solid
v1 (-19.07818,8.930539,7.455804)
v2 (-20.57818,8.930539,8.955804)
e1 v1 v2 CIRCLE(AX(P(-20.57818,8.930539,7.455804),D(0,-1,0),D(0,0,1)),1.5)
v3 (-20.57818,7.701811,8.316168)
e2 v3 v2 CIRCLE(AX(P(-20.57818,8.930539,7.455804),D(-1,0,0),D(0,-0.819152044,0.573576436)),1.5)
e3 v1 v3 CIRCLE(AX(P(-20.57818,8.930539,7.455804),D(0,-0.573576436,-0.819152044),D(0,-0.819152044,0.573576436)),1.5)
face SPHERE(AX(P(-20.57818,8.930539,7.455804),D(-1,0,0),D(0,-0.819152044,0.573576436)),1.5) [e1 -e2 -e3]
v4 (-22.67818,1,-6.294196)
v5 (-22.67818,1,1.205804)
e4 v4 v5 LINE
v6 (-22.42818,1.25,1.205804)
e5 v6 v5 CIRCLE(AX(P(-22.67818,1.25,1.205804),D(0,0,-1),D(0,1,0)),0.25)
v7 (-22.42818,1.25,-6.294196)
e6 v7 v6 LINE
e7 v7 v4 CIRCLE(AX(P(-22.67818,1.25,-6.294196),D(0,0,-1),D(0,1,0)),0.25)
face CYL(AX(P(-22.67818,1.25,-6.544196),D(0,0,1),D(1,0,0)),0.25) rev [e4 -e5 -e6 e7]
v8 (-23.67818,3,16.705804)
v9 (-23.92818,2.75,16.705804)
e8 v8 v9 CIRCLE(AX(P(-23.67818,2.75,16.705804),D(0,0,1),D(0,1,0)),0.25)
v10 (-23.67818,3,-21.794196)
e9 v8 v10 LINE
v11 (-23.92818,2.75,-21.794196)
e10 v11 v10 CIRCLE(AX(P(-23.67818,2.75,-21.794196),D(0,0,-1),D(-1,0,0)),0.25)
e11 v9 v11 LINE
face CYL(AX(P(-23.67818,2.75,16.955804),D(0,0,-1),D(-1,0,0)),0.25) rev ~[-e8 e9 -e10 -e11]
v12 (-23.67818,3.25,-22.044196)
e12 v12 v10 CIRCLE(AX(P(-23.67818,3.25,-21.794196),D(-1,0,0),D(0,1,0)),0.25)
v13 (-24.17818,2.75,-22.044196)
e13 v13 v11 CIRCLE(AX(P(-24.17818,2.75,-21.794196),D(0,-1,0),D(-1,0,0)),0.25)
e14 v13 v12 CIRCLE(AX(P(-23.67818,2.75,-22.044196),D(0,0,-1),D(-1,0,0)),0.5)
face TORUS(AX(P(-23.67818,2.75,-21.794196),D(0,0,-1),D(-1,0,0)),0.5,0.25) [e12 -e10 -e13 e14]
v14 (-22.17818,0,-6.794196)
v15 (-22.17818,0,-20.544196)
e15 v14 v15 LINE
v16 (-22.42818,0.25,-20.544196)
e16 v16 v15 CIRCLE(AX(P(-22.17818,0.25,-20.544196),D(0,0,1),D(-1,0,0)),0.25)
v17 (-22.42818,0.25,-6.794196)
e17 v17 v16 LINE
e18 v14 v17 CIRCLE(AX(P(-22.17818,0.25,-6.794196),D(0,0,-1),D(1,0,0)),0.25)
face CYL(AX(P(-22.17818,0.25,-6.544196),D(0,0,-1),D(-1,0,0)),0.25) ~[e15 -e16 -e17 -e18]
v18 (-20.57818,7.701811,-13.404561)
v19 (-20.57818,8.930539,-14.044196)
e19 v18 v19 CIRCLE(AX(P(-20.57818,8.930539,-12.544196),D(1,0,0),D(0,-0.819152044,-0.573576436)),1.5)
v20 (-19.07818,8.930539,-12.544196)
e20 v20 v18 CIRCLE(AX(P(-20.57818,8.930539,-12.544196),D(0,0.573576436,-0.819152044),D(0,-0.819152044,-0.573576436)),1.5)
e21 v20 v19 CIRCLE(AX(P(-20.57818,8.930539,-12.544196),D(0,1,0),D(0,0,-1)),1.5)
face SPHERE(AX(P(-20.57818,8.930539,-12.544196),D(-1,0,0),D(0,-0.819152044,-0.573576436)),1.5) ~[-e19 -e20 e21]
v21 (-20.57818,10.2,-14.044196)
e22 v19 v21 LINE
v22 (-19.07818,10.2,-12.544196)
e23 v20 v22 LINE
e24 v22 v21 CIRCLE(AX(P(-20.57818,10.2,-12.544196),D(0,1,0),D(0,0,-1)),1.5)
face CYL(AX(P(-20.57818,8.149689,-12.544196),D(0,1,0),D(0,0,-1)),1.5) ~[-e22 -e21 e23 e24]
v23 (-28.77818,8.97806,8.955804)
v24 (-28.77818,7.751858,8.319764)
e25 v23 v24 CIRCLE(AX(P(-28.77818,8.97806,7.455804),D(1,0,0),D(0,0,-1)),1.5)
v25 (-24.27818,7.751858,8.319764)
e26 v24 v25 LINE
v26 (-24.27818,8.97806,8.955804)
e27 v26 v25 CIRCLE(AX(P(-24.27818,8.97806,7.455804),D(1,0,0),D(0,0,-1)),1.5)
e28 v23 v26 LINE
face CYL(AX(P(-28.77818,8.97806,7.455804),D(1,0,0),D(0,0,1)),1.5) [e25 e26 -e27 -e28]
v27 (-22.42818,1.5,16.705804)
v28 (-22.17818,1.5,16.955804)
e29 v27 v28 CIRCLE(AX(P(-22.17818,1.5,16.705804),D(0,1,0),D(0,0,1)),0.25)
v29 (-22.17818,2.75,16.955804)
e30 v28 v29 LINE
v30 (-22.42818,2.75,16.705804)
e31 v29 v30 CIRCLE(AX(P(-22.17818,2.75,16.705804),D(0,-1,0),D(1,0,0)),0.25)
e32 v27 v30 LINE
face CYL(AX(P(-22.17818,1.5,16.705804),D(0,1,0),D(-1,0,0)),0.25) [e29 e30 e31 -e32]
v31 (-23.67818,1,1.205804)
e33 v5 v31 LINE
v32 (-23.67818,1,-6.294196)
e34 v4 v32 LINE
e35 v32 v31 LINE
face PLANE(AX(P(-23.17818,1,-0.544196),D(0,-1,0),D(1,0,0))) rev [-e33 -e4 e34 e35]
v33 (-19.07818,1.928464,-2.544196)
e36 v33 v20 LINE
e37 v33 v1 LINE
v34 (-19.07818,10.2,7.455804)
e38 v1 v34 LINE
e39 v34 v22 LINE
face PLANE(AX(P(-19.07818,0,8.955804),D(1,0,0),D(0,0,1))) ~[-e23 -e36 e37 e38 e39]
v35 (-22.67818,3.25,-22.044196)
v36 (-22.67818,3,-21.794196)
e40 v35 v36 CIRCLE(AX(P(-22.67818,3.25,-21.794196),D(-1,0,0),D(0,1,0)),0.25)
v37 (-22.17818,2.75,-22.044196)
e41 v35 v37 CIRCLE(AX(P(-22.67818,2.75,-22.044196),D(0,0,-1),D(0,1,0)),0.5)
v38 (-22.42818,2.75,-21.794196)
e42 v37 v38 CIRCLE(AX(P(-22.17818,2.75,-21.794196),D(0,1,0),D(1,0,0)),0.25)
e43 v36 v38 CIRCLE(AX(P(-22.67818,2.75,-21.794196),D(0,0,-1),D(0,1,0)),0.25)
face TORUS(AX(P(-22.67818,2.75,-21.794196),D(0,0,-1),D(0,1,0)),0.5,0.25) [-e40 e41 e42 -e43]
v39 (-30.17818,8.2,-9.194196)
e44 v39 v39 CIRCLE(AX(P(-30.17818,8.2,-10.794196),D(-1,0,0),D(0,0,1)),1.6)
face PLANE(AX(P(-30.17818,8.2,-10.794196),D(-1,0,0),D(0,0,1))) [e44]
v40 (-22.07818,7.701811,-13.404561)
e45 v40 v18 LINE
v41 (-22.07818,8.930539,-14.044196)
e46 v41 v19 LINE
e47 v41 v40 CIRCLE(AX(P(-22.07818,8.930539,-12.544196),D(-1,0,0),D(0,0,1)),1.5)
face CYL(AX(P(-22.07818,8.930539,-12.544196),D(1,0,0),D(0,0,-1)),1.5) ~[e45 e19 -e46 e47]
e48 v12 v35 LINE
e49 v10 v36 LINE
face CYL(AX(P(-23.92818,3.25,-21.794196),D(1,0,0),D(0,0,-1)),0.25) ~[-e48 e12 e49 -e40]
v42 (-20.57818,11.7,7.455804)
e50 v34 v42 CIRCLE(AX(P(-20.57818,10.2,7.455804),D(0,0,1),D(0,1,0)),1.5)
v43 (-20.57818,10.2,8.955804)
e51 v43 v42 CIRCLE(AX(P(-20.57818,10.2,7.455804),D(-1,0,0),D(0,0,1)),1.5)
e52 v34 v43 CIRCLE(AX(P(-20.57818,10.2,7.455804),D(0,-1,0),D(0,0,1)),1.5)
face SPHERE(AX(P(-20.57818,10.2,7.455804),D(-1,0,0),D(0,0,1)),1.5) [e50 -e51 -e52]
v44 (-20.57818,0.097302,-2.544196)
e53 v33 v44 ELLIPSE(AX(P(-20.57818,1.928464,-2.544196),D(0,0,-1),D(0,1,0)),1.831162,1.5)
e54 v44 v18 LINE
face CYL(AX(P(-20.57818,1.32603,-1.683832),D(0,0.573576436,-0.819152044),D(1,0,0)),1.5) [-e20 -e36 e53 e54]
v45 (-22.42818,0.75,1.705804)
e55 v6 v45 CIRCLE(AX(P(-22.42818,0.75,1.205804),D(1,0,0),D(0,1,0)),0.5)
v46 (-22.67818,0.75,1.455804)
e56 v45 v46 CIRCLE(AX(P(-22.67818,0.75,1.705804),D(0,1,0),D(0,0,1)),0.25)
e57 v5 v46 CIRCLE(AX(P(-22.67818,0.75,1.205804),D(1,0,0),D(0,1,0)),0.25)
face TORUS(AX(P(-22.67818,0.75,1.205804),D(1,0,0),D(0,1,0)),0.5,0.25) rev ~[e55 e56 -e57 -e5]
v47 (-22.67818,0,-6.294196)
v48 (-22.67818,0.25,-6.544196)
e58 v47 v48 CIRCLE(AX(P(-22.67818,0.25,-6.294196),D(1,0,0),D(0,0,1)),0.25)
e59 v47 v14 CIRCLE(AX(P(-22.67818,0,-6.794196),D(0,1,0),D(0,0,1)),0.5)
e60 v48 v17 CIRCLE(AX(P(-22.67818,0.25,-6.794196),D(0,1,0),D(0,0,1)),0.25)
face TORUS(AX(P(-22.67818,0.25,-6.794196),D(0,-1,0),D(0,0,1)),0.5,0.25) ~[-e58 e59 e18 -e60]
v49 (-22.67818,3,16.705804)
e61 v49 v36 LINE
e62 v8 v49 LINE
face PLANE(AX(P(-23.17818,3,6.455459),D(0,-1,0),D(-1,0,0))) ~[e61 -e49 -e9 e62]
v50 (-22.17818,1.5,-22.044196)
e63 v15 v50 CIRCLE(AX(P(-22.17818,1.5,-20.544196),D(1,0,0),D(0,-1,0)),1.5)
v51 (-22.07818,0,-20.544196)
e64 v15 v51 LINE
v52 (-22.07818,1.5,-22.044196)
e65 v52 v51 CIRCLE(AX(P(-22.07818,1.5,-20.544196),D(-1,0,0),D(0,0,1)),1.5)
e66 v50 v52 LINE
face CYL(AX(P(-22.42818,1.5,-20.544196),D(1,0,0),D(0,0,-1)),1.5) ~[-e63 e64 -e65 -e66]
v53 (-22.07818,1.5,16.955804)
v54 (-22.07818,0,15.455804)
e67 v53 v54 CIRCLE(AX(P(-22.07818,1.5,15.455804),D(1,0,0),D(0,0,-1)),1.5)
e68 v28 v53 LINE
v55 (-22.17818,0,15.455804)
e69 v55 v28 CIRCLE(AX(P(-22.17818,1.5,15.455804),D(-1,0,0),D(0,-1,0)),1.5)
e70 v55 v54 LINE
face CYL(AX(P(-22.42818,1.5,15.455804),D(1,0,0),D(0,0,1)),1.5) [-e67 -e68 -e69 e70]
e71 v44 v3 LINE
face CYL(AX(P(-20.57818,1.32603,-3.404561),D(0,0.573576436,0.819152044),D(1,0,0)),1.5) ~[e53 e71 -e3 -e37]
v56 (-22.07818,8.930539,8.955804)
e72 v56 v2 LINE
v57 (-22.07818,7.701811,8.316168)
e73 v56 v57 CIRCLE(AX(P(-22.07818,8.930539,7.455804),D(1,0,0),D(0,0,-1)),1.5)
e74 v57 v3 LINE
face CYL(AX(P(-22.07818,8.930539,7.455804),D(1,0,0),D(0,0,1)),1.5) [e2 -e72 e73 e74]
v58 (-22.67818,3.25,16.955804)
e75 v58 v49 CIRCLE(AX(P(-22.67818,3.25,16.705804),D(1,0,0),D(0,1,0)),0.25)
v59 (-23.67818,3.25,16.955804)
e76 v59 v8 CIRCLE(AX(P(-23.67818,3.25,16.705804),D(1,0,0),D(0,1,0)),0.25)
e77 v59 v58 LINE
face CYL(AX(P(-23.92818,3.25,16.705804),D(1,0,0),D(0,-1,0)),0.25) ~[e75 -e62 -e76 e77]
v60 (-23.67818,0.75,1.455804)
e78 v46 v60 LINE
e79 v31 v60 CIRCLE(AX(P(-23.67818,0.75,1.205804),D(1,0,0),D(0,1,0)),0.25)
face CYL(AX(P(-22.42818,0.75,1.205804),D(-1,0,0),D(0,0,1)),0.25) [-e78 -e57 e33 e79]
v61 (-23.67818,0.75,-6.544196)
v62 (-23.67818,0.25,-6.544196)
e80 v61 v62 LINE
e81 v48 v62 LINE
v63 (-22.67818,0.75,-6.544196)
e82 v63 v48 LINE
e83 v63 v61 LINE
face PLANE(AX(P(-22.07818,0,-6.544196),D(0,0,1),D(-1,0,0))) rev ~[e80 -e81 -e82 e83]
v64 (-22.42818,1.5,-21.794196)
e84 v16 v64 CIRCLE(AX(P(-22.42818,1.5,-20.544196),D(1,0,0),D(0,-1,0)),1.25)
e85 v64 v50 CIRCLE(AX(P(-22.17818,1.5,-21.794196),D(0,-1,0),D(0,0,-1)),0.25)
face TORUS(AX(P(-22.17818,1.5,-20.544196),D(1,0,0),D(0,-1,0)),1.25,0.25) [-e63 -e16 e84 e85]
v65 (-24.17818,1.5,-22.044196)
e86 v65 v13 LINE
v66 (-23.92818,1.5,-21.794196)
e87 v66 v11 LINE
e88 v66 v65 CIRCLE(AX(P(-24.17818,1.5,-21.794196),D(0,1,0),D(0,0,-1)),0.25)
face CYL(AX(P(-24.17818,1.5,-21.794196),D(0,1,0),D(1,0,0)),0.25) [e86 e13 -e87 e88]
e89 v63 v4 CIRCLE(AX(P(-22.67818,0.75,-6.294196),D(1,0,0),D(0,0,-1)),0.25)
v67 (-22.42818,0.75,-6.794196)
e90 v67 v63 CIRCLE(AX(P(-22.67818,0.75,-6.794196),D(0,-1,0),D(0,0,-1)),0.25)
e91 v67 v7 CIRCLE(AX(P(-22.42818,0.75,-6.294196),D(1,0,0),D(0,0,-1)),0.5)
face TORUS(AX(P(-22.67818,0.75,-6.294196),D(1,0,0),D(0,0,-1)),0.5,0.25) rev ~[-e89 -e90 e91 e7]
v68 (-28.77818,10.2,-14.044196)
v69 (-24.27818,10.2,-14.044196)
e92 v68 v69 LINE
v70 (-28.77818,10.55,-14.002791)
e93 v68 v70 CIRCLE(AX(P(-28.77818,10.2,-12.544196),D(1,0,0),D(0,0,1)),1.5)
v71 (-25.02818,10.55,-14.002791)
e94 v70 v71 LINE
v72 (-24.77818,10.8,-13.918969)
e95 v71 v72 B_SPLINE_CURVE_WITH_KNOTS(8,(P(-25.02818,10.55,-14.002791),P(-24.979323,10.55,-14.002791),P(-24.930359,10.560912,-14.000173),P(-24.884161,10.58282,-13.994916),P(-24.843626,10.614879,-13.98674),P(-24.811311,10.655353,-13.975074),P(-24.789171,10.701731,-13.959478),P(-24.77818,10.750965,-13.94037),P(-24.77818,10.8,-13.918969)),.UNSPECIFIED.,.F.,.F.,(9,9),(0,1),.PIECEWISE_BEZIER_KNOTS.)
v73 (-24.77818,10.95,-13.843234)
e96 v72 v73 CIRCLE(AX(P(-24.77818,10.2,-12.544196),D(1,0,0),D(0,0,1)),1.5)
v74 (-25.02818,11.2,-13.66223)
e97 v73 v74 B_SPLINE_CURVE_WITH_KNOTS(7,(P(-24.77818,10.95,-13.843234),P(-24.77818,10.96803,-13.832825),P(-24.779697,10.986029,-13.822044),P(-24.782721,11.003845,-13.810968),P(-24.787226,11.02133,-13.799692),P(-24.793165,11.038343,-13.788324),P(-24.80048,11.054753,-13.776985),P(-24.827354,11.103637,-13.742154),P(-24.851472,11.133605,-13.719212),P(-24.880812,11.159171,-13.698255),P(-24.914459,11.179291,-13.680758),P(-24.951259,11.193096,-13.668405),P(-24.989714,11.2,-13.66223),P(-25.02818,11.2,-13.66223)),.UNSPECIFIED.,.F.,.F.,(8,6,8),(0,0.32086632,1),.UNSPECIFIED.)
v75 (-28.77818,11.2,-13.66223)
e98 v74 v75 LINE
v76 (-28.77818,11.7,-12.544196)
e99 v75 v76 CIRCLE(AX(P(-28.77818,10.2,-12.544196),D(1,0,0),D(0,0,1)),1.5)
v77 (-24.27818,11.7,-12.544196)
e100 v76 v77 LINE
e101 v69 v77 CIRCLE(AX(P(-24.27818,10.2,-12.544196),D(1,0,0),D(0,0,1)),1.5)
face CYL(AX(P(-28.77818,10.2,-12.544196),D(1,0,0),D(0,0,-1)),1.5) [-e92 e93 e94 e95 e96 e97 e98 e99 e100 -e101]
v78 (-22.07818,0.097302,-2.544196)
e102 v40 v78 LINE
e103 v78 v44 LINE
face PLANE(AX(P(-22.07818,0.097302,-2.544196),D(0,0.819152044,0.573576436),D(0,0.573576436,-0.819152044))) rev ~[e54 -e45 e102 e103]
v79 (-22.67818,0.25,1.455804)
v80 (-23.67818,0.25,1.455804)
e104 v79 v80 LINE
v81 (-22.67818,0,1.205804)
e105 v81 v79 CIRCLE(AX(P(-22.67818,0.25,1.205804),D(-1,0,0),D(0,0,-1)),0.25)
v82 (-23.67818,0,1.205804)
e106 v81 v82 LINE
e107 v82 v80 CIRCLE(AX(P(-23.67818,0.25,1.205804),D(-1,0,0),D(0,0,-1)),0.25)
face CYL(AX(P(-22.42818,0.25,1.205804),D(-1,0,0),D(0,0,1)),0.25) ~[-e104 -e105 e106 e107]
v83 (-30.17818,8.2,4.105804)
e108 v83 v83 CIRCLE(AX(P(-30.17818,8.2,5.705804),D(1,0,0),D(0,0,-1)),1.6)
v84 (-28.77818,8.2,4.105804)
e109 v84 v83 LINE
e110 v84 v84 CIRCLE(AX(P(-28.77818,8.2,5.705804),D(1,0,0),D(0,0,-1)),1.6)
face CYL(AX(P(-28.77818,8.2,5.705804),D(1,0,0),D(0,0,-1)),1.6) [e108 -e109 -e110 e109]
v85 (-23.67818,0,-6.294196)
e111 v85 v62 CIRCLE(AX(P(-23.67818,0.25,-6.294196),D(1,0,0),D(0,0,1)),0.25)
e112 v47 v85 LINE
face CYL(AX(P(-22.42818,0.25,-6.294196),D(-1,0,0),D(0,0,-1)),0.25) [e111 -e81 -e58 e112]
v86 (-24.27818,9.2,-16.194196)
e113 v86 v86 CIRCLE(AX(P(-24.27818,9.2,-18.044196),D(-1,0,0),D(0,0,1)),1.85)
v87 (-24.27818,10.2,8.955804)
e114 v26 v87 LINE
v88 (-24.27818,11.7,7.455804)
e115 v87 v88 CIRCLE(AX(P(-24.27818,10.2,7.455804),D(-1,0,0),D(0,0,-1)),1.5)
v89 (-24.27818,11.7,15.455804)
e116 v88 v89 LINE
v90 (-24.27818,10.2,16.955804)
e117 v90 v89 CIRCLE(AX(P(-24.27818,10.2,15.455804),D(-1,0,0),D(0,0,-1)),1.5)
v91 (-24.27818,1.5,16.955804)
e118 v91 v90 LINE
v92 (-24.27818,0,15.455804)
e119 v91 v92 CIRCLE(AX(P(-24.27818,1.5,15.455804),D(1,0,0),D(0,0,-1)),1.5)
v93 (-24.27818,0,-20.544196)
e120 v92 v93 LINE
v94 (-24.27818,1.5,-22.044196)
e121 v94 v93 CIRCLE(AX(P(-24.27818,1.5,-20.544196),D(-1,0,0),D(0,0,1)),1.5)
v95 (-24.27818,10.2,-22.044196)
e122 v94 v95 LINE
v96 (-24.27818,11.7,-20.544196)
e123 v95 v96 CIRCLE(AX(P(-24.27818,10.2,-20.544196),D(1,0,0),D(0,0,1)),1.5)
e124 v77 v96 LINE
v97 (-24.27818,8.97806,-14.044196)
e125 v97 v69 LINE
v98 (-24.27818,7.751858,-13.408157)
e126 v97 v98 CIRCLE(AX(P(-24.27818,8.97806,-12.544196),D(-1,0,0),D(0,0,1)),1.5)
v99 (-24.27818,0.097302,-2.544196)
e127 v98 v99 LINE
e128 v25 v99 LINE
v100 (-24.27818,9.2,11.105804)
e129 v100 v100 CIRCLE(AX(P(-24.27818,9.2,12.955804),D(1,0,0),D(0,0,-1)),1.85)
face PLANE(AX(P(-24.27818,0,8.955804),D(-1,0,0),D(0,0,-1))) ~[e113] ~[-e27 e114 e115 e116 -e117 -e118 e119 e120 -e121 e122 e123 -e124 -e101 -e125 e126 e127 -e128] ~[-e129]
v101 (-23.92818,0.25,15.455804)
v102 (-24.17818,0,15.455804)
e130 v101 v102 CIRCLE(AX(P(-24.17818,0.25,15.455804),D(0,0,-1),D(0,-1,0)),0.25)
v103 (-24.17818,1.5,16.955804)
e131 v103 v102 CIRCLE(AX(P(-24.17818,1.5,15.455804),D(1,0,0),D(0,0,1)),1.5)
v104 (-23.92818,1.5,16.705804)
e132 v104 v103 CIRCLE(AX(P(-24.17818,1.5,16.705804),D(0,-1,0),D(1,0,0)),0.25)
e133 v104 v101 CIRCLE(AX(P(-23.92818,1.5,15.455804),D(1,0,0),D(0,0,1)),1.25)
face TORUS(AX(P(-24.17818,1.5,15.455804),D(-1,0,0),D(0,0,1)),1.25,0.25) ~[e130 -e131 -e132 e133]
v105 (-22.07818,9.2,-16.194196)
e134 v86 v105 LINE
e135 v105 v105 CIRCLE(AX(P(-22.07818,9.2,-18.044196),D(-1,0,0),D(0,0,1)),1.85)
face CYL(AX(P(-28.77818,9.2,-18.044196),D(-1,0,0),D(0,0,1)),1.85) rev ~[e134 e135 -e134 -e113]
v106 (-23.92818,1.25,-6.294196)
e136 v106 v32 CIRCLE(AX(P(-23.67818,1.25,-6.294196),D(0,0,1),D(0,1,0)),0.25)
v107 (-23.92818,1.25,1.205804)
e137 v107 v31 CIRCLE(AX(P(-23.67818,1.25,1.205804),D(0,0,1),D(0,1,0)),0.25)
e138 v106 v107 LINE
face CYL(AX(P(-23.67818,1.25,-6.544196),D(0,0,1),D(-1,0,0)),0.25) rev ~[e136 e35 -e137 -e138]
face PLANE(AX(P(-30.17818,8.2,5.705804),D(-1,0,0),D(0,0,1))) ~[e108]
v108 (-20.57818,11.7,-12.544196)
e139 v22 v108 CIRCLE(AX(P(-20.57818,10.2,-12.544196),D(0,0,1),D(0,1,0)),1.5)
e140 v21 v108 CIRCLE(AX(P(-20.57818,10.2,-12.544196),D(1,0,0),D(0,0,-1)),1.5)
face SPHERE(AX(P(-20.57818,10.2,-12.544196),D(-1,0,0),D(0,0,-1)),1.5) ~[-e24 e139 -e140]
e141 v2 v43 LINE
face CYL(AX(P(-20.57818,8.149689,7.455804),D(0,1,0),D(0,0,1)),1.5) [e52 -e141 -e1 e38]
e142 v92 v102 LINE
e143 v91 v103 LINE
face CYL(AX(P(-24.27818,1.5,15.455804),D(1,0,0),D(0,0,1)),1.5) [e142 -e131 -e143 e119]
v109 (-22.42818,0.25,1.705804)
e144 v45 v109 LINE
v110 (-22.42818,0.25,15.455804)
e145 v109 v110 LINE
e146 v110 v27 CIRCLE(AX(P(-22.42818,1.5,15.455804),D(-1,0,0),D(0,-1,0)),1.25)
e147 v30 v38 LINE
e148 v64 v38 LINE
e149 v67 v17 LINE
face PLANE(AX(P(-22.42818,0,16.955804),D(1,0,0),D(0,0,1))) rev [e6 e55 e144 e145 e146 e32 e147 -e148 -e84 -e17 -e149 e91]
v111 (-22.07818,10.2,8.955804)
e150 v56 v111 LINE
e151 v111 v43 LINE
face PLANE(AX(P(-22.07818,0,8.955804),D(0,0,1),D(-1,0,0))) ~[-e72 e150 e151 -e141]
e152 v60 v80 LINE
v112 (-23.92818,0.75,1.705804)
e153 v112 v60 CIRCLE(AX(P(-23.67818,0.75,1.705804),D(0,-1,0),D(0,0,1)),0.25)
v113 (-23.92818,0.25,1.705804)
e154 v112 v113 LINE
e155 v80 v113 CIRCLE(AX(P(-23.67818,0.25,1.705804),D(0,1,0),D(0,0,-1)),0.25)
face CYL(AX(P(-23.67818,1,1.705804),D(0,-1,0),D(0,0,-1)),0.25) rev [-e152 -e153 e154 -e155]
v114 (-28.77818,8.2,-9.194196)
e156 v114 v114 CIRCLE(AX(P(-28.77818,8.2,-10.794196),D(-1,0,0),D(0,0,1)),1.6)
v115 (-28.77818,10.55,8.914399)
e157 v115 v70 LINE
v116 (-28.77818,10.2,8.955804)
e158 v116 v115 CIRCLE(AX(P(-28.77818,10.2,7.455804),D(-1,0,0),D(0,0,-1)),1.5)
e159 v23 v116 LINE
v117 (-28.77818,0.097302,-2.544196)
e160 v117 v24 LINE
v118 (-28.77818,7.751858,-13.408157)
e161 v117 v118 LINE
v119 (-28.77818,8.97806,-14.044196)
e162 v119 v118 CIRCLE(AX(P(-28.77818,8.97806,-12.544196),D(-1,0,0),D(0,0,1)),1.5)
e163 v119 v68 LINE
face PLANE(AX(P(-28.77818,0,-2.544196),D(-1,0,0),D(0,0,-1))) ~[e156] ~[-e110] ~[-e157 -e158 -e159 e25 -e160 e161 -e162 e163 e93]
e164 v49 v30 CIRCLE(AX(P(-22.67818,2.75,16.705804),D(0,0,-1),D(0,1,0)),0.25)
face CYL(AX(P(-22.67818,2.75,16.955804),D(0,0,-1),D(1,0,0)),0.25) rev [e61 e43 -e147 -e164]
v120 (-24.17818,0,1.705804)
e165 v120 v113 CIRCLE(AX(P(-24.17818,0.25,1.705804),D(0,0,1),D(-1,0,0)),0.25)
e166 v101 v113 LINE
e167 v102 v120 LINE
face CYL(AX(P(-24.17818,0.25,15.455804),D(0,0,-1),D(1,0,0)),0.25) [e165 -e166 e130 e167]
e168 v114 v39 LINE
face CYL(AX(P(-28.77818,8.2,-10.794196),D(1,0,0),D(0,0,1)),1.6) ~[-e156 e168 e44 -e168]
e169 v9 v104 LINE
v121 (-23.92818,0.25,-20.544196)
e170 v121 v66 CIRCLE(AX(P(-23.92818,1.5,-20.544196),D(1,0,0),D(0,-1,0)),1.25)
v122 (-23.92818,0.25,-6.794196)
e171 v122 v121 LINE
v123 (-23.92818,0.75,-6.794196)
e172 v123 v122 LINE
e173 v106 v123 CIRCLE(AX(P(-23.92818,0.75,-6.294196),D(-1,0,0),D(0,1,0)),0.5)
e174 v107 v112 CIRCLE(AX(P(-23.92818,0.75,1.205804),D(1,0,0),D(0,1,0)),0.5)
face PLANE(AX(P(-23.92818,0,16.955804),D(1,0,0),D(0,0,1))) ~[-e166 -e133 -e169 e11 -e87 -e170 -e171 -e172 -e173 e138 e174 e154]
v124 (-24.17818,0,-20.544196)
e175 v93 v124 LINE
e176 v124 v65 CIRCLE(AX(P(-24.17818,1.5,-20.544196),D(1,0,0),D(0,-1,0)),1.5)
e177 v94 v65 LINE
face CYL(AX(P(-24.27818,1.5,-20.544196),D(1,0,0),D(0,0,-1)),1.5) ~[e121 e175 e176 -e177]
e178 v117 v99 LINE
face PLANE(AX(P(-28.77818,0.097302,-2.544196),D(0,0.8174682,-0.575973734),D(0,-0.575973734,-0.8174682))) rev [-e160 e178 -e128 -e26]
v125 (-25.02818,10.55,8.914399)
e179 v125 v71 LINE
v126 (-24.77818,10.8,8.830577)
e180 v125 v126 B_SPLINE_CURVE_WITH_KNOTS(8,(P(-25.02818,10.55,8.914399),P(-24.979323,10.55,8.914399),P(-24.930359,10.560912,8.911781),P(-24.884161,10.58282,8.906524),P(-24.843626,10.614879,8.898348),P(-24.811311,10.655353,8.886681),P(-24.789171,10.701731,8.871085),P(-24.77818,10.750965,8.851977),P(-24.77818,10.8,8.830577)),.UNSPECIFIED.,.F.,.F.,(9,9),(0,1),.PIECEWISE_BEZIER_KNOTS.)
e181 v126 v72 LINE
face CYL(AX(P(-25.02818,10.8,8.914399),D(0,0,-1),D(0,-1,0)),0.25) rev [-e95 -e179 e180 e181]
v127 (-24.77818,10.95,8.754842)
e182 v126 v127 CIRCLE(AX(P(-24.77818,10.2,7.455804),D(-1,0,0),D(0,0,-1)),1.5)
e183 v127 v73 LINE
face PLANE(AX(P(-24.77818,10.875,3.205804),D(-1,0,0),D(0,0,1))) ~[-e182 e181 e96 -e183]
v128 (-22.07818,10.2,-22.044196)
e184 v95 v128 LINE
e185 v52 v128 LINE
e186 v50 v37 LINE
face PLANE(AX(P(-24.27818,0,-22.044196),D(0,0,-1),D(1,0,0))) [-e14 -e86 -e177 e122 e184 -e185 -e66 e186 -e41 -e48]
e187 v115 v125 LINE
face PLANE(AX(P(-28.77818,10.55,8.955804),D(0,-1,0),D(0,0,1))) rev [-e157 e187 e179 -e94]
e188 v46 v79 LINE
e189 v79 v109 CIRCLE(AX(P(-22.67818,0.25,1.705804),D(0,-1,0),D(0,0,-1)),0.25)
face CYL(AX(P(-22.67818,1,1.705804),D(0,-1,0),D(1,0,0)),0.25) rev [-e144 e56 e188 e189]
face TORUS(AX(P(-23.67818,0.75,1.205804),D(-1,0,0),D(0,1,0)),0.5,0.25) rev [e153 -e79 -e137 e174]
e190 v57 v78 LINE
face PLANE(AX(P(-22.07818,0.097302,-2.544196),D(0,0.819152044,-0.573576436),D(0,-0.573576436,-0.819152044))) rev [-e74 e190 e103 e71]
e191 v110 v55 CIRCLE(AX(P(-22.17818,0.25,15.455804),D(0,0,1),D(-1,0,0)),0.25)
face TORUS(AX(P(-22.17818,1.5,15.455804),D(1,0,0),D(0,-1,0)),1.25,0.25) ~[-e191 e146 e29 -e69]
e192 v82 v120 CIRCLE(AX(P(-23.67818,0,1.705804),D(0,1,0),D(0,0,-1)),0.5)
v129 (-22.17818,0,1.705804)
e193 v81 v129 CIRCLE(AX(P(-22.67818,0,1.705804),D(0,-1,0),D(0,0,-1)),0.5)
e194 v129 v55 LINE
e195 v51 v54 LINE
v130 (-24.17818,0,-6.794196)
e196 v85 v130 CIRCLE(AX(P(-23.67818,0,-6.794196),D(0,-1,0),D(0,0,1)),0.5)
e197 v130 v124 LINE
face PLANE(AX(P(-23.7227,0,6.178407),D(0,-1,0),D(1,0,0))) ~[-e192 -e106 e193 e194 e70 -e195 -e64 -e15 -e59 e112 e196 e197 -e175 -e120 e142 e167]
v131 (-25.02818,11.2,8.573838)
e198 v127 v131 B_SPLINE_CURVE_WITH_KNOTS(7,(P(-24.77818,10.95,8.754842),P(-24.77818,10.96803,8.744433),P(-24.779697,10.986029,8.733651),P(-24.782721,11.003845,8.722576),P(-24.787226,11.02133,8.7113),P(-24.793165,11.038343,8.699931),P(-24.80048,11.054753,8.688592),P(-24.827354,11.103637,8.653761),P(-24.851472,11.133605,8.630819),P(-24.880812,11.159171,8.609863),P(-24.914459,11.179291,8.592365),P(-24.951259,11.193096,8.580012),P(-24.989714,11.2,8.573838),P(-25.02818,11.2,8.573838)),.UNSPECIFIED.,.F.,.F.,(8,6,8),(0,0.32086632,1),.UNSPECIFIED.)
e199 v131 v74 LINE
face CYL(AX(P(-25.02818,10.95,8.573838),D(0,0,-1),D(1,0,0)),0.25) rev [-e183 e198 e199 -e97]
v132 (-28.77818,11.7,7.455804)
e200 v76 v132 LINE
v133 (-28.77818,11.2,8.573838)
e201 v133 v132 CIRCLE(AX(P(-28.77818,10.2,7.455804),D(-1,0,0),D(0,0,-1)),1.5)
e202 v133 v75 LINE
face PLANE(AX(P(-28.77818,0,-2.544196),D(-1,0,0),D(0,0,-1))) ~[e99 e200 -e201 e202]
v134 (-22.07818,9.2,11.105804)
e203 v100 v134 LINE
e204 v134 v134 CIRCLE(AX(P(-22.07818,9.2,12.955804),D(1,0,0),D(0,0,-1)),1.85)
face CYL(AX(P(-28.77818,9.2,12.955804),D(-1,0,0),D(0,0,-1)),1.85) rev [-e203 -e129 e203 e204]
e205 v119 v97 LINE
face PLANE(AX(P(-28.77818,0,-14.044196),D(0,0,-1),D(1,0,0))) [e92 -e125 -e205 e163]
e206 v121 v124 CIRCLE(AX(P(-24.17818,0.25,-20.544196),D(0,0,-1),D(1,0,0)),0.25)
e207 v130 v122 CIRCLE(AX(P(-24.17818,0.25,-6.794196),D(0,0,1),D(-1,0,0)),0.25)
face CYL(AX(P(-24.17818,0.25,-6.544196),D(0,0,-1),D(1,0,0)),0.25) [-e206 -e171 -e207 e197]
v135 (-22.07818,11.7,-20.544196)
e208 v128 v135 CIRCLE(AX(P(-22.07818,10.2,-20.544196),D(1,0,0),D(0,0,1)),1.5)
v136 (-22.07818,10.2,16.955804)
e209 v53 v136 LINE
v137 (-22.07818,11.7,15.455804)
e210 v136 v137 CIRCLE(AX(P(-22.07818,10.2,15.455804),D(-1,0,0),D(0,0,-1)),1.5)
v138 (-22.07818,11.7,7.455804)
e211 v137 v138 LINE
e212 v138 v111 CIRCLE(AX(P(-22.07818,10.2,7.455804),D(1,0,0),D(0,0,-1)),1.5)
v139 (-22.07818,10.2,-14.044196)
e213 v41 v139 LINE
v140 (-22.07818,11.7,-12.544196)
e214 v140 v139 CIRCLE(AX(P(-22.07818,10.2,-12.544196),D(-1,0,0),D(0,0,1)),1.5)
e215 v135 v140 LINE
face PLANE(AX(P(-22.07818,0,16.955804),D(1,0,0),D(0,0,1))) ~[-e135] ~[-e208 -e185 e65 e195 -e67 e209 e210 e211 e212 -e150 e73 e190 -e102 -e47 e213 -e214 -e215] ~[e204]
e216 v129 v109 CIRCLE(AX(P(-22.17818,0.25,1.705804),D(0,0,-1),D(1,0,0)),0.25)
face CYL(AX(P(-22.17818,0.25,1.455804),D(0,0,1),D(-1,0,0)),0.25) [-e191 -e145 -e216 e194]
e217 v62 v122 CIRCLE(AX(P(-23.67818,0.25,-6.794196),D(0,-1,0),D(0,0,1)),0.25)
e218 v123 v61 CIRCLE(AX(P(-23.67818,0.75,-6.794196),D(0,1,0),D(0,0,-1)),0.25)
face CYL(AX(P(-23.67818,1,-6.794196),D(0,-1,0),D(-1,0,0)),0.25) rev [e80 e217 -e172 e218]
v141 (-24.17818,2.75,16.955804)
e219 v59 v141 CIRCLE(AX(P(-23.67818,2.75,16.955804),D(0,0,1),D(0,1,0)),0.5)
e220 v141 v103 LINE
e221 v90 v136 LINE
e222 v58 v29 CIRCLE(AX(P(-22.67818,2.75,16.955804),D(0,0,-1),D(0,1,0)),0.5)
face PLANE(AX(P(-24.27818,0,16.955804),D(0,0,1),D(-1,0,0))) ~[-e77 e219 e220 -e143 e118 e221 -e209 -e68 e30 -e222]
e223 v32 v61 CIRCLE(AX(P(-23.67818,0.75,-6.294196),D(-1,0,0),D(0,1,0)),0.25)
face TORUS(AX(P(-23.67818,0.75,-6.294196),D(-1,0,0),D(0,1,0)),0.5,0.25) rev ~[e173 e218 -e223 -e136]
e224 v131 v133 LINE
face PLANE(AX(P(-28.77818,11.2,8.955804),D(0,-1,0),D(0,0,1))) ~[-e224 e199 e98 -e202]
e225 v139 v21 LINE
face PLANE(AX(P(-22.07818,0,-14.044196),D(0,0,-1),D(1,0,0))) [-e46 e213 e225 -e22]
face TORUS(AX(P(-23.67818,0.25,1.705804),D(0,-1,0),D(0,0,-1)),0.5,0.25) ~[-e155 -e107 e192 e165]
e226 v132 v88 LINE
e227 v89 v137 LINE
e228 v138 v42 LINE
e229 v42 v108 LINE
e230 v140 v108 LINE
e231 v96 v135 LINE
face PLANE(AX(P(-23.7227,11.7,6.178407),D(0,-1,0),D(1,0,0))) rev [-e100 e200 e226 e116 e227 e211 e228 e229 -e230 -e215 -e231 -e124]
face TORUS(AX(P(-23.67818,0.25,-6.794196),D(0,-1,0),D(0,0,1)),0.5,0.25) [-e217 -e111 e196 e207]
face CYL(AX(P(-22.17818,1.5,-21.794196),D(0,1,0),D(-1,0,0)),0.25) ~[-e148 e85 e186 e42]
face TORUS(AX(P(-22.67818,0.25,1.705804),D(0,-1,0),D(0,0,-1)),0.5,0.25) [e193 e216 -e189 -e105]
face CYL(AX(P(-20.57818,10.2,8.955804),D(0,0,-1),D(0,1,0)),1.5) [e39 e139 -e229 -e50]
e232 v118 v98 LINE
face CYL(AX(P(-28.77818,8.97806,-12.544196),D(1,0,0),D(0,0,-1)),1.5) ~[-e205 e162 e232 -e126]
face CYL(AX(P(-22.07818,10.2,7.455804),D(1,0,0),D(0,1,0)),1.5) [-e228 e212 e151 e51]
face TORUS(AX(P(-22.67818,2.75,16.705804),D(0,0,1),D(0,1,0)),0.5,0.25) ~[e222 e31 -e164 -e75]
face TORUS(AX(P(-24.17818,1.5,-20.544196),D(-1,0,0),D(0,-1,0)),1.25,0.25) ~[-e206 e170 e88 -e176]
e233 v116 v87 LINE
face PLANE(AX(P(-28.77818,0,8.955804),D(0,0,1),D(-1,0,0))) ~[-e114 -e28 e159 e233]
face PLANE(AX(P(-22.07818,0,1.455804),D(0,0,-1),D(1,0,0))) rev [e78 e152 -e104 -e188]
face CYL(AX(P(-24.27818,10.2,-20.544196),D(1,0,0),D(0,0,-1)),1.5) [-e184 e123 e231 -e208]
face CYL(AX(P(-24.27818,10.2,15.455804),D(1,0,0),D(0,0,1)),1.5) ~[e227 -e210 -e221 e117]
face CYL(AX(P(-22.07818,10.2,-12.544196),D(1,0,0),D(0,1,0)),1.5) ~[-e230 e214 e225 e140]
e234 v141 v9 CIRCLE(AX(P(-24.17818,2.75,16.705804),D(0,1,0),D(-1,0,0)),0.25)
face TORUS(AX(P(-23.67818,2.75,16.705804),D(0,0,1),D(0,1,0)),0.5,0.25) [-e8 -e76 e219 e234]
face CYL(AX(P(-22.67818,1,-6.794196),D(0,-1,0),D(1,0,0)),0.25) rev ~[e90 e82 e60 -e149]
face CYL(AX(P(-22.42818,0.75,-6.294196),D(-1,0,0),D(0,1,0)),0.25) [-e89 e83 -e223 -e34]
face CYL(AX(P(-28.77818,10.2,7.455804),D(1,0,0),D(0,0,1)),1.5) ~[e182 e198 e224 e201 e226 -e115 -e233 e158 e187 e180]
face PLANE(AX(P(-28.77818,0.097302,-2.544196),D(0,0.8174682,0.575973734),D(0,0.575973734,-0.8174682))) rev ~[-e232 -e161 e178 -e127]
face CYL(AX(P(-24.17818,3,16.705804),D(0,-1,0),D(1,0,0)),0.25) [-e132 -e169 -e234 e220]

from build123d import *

# Parameters (mm, degrees)
BOSS_EXTRUDE1_DEPTH     = 11.7
SKETCH7_W               = 11.5
SKETCH7_H               = 0.65
CUT_EXTRUDE2_DEPTH      = 4
SKETCH7_4_R             = 1.6
BOSS_EXTRUDE2_DEPTH     = 1.4
CUT_EXTRUDE3_DEPTH      = 4.5
SKETCH7_6_R             = 1.85
CUT_EXTRUDE4_DEPTH      = 2.4
CUT_EXTRUDE4_DEPTH_BACK = 10.7
CUT_EXTRUDE5_DEPTH      = 3
SKETCH12_W              = 1.5
SKETCH12_H              = 21.000689182
CUT_EXTRUDE6_DEPTH      = 3
SKETCH14_W              = 2.2
SKETCH14_H              = 4
BOSS_EXTRUDE3_DEPTH     = 1
FILLET3_R               = 1.5
FILLET4_R               = 0.25


with BuildPart() as part:
    # Sketch1 → Boss-Extrude1 (new body)
    with BuildSketch(Plane(origin=(0, 0, 0), x_dir=(1, 0, 0), z_dir=(0, 1, 0))):
        Polygon((-28.77817965, 14.04419618), (-24.27817965, 14.04419618), (-24.27817965, 22.04419618), (-22.07817965, 22.04419618), (-22.07817965, 14.04419618), (-19.07817965, 14.04419618), (-19.07817965, 2.54419618), (-28.77817965, 2.54419618), align=None)
    extrude(amount=BOSS_EXTRUDE1_DEPTH)

    # Sketch7 → Cut-Extrude2 (cut)
    with BuildSketch(Plane.ZY.offset(28.77817965)):
        with Locations((-8.29419618, 10.875)):
            Rectangle(SKETCH7_W, SKETCH7_H)
    extrude(amount=-CUT_EXTRUDE2_DEPTH, mode=Mode.SUBTRACT)

    # Sketch7<4> → Boss-Extrude2 (add)
    with BuildSketch(Plane.ZY.offset(28.77817965)):
        with Locations((-10.79419618, 8.2)):
            Circle(SKETCH7_4_R)
    extrude(amount=BOSS_EXTRUDE2_DEPTH)

    # Sketch7<5> → Cut-Extrude3 (cut)
    with BuildSketch(Plane.ZY.offset(28.77817965)):
        Polygon((-2.54419618, 0.097302003), (-14.04419618, 8.2), (-14.04419618, 0), (-2.54419618, 0), align=None)
    extrude(amount=-CUT_EXTRUDE3_DEPTH, mode=Mode.SUBTRACT)

    # Sketch7<6> → Cut-Extrude4 (cut, two sides)
    with BuildSketch(Plane.ZY.offset(28.77817965)) as cut_extrude4_sk:
        with Locations((-18.04419618, 9.2)):
            Circle(SKETCH7_6_R)
    extrude(amount=CUT_EXTRUDE4_DEPTH, mode=Mode.SUBTRACT)
    extrude(cut_extrude4_sk.sketch, amount=-CUT_EXTRUDE4_DEPTH_BACK, mode=Mode.SUBTRACT)

    # Sketch10 → Cut-Extrude5 (cut)
    with BuildSketch(Plane(origin=(-22.07817965, 0, 0), x_dir=(0, 0, -1), z_dir=(1, 0, 0))):
        Polygon((15.54419618, 9.2), (15.54419618, 0), (2.54419618, 0), (2.54419618, 0.097302003), align=None)
    extrude(amount=CUT_EXTRUDE5_DEPTH, mode=Mode.SUBTRACT)

    # Sketch12 → Cut-Extrude6 (cut)
    with BuildSketch(Plane.XZ):
        with Locations((-23.17817965, -11.543851589)):
            Rectangle(SKETCH12_W, SKETCH12_H)
    extrude(amount=-CUT_EXTRUDE6_DEPTH, mode=Mode.SUBTRACT)

    # Sketch14 → Boss-Extrude3 (add)
    with BuildSketch(Plane(origin=(0, 0, 0), x_dir=(-1, 0, 0), z_dir=(0, -1, 0))):
        with Locations((23.17817965, 4.54419618)):
            Rectangle(SKETCH14_W, SKETCH14_H)
    extrude(amount=-BOSS_EXTRUDE3_DEPTH)

    # Fillet3
    fillet3_edges = [part.edges().sort_by_distance(p)[0] for p in [
        (-26.52817965, 8.2, -14.04419618),
        (-20.57817965, 8.149688693, -14.04419618),
        (-26.52817965, 11.7, -14.04419618),
        (-20.57817965, 11.7, -14.04419618),
        (-19.07817965, 4.123495348, -8.29419618),
        (-19.07817965, 9.924844346, -14.04419618),
        (-19.07817965, 11.7, -8.29419618),
        (-23.17817965, 11.7, -22.04419618),
        (-24.10317965, 0, -22.04419618),
        (-22.25317965, 0, -22.04419618),
    ]]
    fillet(fillet3_edges, radius=FILLET3_R)

    # Mirror3: part across plane


with BuildPart() as part_1:
    add(part.part)
    add(part.part.mirror(Plane(origin=(-19.07817965, 11.7, -2.54419618), x_dir=(1, 0, 0), z_dir=(0, 0, -1))))

    # Fillet4
    fillet4_edges = [part_1.edges().sort_by_distance(p)[0] for p in [
        (-22.42817965, 3, -2.54419618),
        (-23.92817965, 3, -2.54419618),
        (-23.92817965, 2.25, -22.04419618),
        (-23.17817965, 3, -22.04419618),
        (-22.42817965, 2.25, -22.04419618),
        (-23.92817965, 0, -13.54419618),
        (-23.92817965, 1, -2.54419618),
        (-23.92817965, 0.5, -6.54419618),
        (-23.17817965, 1, -6.54419618),
        (-22.42817965, 0.5, -6.54419618),
        (-22.42817965, 1, -2.54419618),
        (-23.17817965, 0, -6.54419618),
        (-22.42817965, 0, -13.54419618),
        (-23.92817965, 0.439339828, -21.604856352),
        (-22.42817965, 0.439339828, -21.604856352),
        (-24.77817965, 10.55, -2.54419618),
        (-23.17817965, 3, 16.95580382),
        (-22.42817965, 2.25, 16.95580382),
        (-22.42817965, 0, 8.45580382),
        (-23.92817965, 0, 8.45580382),
        (-23.92817965, 2.25, 16.95580382),
        (-22.42817965, 0.5, 1.45580382),
        (-23.92817965, 0.5, 1.45580382),
        (-23.17817965, 0, 1.45580382),
        (-23.17817965, 1, 1.45580382),
        (-23.92817965, 0.439339828, 16.516463992),
        (-22.42817965, 0.439339828, 16.516463992),
        (-24.77817965, 11.2, -2.54419618),
    ]]
    fillet(fillet4_edges, radius=FILLET4_R)


solid = part_1.part
